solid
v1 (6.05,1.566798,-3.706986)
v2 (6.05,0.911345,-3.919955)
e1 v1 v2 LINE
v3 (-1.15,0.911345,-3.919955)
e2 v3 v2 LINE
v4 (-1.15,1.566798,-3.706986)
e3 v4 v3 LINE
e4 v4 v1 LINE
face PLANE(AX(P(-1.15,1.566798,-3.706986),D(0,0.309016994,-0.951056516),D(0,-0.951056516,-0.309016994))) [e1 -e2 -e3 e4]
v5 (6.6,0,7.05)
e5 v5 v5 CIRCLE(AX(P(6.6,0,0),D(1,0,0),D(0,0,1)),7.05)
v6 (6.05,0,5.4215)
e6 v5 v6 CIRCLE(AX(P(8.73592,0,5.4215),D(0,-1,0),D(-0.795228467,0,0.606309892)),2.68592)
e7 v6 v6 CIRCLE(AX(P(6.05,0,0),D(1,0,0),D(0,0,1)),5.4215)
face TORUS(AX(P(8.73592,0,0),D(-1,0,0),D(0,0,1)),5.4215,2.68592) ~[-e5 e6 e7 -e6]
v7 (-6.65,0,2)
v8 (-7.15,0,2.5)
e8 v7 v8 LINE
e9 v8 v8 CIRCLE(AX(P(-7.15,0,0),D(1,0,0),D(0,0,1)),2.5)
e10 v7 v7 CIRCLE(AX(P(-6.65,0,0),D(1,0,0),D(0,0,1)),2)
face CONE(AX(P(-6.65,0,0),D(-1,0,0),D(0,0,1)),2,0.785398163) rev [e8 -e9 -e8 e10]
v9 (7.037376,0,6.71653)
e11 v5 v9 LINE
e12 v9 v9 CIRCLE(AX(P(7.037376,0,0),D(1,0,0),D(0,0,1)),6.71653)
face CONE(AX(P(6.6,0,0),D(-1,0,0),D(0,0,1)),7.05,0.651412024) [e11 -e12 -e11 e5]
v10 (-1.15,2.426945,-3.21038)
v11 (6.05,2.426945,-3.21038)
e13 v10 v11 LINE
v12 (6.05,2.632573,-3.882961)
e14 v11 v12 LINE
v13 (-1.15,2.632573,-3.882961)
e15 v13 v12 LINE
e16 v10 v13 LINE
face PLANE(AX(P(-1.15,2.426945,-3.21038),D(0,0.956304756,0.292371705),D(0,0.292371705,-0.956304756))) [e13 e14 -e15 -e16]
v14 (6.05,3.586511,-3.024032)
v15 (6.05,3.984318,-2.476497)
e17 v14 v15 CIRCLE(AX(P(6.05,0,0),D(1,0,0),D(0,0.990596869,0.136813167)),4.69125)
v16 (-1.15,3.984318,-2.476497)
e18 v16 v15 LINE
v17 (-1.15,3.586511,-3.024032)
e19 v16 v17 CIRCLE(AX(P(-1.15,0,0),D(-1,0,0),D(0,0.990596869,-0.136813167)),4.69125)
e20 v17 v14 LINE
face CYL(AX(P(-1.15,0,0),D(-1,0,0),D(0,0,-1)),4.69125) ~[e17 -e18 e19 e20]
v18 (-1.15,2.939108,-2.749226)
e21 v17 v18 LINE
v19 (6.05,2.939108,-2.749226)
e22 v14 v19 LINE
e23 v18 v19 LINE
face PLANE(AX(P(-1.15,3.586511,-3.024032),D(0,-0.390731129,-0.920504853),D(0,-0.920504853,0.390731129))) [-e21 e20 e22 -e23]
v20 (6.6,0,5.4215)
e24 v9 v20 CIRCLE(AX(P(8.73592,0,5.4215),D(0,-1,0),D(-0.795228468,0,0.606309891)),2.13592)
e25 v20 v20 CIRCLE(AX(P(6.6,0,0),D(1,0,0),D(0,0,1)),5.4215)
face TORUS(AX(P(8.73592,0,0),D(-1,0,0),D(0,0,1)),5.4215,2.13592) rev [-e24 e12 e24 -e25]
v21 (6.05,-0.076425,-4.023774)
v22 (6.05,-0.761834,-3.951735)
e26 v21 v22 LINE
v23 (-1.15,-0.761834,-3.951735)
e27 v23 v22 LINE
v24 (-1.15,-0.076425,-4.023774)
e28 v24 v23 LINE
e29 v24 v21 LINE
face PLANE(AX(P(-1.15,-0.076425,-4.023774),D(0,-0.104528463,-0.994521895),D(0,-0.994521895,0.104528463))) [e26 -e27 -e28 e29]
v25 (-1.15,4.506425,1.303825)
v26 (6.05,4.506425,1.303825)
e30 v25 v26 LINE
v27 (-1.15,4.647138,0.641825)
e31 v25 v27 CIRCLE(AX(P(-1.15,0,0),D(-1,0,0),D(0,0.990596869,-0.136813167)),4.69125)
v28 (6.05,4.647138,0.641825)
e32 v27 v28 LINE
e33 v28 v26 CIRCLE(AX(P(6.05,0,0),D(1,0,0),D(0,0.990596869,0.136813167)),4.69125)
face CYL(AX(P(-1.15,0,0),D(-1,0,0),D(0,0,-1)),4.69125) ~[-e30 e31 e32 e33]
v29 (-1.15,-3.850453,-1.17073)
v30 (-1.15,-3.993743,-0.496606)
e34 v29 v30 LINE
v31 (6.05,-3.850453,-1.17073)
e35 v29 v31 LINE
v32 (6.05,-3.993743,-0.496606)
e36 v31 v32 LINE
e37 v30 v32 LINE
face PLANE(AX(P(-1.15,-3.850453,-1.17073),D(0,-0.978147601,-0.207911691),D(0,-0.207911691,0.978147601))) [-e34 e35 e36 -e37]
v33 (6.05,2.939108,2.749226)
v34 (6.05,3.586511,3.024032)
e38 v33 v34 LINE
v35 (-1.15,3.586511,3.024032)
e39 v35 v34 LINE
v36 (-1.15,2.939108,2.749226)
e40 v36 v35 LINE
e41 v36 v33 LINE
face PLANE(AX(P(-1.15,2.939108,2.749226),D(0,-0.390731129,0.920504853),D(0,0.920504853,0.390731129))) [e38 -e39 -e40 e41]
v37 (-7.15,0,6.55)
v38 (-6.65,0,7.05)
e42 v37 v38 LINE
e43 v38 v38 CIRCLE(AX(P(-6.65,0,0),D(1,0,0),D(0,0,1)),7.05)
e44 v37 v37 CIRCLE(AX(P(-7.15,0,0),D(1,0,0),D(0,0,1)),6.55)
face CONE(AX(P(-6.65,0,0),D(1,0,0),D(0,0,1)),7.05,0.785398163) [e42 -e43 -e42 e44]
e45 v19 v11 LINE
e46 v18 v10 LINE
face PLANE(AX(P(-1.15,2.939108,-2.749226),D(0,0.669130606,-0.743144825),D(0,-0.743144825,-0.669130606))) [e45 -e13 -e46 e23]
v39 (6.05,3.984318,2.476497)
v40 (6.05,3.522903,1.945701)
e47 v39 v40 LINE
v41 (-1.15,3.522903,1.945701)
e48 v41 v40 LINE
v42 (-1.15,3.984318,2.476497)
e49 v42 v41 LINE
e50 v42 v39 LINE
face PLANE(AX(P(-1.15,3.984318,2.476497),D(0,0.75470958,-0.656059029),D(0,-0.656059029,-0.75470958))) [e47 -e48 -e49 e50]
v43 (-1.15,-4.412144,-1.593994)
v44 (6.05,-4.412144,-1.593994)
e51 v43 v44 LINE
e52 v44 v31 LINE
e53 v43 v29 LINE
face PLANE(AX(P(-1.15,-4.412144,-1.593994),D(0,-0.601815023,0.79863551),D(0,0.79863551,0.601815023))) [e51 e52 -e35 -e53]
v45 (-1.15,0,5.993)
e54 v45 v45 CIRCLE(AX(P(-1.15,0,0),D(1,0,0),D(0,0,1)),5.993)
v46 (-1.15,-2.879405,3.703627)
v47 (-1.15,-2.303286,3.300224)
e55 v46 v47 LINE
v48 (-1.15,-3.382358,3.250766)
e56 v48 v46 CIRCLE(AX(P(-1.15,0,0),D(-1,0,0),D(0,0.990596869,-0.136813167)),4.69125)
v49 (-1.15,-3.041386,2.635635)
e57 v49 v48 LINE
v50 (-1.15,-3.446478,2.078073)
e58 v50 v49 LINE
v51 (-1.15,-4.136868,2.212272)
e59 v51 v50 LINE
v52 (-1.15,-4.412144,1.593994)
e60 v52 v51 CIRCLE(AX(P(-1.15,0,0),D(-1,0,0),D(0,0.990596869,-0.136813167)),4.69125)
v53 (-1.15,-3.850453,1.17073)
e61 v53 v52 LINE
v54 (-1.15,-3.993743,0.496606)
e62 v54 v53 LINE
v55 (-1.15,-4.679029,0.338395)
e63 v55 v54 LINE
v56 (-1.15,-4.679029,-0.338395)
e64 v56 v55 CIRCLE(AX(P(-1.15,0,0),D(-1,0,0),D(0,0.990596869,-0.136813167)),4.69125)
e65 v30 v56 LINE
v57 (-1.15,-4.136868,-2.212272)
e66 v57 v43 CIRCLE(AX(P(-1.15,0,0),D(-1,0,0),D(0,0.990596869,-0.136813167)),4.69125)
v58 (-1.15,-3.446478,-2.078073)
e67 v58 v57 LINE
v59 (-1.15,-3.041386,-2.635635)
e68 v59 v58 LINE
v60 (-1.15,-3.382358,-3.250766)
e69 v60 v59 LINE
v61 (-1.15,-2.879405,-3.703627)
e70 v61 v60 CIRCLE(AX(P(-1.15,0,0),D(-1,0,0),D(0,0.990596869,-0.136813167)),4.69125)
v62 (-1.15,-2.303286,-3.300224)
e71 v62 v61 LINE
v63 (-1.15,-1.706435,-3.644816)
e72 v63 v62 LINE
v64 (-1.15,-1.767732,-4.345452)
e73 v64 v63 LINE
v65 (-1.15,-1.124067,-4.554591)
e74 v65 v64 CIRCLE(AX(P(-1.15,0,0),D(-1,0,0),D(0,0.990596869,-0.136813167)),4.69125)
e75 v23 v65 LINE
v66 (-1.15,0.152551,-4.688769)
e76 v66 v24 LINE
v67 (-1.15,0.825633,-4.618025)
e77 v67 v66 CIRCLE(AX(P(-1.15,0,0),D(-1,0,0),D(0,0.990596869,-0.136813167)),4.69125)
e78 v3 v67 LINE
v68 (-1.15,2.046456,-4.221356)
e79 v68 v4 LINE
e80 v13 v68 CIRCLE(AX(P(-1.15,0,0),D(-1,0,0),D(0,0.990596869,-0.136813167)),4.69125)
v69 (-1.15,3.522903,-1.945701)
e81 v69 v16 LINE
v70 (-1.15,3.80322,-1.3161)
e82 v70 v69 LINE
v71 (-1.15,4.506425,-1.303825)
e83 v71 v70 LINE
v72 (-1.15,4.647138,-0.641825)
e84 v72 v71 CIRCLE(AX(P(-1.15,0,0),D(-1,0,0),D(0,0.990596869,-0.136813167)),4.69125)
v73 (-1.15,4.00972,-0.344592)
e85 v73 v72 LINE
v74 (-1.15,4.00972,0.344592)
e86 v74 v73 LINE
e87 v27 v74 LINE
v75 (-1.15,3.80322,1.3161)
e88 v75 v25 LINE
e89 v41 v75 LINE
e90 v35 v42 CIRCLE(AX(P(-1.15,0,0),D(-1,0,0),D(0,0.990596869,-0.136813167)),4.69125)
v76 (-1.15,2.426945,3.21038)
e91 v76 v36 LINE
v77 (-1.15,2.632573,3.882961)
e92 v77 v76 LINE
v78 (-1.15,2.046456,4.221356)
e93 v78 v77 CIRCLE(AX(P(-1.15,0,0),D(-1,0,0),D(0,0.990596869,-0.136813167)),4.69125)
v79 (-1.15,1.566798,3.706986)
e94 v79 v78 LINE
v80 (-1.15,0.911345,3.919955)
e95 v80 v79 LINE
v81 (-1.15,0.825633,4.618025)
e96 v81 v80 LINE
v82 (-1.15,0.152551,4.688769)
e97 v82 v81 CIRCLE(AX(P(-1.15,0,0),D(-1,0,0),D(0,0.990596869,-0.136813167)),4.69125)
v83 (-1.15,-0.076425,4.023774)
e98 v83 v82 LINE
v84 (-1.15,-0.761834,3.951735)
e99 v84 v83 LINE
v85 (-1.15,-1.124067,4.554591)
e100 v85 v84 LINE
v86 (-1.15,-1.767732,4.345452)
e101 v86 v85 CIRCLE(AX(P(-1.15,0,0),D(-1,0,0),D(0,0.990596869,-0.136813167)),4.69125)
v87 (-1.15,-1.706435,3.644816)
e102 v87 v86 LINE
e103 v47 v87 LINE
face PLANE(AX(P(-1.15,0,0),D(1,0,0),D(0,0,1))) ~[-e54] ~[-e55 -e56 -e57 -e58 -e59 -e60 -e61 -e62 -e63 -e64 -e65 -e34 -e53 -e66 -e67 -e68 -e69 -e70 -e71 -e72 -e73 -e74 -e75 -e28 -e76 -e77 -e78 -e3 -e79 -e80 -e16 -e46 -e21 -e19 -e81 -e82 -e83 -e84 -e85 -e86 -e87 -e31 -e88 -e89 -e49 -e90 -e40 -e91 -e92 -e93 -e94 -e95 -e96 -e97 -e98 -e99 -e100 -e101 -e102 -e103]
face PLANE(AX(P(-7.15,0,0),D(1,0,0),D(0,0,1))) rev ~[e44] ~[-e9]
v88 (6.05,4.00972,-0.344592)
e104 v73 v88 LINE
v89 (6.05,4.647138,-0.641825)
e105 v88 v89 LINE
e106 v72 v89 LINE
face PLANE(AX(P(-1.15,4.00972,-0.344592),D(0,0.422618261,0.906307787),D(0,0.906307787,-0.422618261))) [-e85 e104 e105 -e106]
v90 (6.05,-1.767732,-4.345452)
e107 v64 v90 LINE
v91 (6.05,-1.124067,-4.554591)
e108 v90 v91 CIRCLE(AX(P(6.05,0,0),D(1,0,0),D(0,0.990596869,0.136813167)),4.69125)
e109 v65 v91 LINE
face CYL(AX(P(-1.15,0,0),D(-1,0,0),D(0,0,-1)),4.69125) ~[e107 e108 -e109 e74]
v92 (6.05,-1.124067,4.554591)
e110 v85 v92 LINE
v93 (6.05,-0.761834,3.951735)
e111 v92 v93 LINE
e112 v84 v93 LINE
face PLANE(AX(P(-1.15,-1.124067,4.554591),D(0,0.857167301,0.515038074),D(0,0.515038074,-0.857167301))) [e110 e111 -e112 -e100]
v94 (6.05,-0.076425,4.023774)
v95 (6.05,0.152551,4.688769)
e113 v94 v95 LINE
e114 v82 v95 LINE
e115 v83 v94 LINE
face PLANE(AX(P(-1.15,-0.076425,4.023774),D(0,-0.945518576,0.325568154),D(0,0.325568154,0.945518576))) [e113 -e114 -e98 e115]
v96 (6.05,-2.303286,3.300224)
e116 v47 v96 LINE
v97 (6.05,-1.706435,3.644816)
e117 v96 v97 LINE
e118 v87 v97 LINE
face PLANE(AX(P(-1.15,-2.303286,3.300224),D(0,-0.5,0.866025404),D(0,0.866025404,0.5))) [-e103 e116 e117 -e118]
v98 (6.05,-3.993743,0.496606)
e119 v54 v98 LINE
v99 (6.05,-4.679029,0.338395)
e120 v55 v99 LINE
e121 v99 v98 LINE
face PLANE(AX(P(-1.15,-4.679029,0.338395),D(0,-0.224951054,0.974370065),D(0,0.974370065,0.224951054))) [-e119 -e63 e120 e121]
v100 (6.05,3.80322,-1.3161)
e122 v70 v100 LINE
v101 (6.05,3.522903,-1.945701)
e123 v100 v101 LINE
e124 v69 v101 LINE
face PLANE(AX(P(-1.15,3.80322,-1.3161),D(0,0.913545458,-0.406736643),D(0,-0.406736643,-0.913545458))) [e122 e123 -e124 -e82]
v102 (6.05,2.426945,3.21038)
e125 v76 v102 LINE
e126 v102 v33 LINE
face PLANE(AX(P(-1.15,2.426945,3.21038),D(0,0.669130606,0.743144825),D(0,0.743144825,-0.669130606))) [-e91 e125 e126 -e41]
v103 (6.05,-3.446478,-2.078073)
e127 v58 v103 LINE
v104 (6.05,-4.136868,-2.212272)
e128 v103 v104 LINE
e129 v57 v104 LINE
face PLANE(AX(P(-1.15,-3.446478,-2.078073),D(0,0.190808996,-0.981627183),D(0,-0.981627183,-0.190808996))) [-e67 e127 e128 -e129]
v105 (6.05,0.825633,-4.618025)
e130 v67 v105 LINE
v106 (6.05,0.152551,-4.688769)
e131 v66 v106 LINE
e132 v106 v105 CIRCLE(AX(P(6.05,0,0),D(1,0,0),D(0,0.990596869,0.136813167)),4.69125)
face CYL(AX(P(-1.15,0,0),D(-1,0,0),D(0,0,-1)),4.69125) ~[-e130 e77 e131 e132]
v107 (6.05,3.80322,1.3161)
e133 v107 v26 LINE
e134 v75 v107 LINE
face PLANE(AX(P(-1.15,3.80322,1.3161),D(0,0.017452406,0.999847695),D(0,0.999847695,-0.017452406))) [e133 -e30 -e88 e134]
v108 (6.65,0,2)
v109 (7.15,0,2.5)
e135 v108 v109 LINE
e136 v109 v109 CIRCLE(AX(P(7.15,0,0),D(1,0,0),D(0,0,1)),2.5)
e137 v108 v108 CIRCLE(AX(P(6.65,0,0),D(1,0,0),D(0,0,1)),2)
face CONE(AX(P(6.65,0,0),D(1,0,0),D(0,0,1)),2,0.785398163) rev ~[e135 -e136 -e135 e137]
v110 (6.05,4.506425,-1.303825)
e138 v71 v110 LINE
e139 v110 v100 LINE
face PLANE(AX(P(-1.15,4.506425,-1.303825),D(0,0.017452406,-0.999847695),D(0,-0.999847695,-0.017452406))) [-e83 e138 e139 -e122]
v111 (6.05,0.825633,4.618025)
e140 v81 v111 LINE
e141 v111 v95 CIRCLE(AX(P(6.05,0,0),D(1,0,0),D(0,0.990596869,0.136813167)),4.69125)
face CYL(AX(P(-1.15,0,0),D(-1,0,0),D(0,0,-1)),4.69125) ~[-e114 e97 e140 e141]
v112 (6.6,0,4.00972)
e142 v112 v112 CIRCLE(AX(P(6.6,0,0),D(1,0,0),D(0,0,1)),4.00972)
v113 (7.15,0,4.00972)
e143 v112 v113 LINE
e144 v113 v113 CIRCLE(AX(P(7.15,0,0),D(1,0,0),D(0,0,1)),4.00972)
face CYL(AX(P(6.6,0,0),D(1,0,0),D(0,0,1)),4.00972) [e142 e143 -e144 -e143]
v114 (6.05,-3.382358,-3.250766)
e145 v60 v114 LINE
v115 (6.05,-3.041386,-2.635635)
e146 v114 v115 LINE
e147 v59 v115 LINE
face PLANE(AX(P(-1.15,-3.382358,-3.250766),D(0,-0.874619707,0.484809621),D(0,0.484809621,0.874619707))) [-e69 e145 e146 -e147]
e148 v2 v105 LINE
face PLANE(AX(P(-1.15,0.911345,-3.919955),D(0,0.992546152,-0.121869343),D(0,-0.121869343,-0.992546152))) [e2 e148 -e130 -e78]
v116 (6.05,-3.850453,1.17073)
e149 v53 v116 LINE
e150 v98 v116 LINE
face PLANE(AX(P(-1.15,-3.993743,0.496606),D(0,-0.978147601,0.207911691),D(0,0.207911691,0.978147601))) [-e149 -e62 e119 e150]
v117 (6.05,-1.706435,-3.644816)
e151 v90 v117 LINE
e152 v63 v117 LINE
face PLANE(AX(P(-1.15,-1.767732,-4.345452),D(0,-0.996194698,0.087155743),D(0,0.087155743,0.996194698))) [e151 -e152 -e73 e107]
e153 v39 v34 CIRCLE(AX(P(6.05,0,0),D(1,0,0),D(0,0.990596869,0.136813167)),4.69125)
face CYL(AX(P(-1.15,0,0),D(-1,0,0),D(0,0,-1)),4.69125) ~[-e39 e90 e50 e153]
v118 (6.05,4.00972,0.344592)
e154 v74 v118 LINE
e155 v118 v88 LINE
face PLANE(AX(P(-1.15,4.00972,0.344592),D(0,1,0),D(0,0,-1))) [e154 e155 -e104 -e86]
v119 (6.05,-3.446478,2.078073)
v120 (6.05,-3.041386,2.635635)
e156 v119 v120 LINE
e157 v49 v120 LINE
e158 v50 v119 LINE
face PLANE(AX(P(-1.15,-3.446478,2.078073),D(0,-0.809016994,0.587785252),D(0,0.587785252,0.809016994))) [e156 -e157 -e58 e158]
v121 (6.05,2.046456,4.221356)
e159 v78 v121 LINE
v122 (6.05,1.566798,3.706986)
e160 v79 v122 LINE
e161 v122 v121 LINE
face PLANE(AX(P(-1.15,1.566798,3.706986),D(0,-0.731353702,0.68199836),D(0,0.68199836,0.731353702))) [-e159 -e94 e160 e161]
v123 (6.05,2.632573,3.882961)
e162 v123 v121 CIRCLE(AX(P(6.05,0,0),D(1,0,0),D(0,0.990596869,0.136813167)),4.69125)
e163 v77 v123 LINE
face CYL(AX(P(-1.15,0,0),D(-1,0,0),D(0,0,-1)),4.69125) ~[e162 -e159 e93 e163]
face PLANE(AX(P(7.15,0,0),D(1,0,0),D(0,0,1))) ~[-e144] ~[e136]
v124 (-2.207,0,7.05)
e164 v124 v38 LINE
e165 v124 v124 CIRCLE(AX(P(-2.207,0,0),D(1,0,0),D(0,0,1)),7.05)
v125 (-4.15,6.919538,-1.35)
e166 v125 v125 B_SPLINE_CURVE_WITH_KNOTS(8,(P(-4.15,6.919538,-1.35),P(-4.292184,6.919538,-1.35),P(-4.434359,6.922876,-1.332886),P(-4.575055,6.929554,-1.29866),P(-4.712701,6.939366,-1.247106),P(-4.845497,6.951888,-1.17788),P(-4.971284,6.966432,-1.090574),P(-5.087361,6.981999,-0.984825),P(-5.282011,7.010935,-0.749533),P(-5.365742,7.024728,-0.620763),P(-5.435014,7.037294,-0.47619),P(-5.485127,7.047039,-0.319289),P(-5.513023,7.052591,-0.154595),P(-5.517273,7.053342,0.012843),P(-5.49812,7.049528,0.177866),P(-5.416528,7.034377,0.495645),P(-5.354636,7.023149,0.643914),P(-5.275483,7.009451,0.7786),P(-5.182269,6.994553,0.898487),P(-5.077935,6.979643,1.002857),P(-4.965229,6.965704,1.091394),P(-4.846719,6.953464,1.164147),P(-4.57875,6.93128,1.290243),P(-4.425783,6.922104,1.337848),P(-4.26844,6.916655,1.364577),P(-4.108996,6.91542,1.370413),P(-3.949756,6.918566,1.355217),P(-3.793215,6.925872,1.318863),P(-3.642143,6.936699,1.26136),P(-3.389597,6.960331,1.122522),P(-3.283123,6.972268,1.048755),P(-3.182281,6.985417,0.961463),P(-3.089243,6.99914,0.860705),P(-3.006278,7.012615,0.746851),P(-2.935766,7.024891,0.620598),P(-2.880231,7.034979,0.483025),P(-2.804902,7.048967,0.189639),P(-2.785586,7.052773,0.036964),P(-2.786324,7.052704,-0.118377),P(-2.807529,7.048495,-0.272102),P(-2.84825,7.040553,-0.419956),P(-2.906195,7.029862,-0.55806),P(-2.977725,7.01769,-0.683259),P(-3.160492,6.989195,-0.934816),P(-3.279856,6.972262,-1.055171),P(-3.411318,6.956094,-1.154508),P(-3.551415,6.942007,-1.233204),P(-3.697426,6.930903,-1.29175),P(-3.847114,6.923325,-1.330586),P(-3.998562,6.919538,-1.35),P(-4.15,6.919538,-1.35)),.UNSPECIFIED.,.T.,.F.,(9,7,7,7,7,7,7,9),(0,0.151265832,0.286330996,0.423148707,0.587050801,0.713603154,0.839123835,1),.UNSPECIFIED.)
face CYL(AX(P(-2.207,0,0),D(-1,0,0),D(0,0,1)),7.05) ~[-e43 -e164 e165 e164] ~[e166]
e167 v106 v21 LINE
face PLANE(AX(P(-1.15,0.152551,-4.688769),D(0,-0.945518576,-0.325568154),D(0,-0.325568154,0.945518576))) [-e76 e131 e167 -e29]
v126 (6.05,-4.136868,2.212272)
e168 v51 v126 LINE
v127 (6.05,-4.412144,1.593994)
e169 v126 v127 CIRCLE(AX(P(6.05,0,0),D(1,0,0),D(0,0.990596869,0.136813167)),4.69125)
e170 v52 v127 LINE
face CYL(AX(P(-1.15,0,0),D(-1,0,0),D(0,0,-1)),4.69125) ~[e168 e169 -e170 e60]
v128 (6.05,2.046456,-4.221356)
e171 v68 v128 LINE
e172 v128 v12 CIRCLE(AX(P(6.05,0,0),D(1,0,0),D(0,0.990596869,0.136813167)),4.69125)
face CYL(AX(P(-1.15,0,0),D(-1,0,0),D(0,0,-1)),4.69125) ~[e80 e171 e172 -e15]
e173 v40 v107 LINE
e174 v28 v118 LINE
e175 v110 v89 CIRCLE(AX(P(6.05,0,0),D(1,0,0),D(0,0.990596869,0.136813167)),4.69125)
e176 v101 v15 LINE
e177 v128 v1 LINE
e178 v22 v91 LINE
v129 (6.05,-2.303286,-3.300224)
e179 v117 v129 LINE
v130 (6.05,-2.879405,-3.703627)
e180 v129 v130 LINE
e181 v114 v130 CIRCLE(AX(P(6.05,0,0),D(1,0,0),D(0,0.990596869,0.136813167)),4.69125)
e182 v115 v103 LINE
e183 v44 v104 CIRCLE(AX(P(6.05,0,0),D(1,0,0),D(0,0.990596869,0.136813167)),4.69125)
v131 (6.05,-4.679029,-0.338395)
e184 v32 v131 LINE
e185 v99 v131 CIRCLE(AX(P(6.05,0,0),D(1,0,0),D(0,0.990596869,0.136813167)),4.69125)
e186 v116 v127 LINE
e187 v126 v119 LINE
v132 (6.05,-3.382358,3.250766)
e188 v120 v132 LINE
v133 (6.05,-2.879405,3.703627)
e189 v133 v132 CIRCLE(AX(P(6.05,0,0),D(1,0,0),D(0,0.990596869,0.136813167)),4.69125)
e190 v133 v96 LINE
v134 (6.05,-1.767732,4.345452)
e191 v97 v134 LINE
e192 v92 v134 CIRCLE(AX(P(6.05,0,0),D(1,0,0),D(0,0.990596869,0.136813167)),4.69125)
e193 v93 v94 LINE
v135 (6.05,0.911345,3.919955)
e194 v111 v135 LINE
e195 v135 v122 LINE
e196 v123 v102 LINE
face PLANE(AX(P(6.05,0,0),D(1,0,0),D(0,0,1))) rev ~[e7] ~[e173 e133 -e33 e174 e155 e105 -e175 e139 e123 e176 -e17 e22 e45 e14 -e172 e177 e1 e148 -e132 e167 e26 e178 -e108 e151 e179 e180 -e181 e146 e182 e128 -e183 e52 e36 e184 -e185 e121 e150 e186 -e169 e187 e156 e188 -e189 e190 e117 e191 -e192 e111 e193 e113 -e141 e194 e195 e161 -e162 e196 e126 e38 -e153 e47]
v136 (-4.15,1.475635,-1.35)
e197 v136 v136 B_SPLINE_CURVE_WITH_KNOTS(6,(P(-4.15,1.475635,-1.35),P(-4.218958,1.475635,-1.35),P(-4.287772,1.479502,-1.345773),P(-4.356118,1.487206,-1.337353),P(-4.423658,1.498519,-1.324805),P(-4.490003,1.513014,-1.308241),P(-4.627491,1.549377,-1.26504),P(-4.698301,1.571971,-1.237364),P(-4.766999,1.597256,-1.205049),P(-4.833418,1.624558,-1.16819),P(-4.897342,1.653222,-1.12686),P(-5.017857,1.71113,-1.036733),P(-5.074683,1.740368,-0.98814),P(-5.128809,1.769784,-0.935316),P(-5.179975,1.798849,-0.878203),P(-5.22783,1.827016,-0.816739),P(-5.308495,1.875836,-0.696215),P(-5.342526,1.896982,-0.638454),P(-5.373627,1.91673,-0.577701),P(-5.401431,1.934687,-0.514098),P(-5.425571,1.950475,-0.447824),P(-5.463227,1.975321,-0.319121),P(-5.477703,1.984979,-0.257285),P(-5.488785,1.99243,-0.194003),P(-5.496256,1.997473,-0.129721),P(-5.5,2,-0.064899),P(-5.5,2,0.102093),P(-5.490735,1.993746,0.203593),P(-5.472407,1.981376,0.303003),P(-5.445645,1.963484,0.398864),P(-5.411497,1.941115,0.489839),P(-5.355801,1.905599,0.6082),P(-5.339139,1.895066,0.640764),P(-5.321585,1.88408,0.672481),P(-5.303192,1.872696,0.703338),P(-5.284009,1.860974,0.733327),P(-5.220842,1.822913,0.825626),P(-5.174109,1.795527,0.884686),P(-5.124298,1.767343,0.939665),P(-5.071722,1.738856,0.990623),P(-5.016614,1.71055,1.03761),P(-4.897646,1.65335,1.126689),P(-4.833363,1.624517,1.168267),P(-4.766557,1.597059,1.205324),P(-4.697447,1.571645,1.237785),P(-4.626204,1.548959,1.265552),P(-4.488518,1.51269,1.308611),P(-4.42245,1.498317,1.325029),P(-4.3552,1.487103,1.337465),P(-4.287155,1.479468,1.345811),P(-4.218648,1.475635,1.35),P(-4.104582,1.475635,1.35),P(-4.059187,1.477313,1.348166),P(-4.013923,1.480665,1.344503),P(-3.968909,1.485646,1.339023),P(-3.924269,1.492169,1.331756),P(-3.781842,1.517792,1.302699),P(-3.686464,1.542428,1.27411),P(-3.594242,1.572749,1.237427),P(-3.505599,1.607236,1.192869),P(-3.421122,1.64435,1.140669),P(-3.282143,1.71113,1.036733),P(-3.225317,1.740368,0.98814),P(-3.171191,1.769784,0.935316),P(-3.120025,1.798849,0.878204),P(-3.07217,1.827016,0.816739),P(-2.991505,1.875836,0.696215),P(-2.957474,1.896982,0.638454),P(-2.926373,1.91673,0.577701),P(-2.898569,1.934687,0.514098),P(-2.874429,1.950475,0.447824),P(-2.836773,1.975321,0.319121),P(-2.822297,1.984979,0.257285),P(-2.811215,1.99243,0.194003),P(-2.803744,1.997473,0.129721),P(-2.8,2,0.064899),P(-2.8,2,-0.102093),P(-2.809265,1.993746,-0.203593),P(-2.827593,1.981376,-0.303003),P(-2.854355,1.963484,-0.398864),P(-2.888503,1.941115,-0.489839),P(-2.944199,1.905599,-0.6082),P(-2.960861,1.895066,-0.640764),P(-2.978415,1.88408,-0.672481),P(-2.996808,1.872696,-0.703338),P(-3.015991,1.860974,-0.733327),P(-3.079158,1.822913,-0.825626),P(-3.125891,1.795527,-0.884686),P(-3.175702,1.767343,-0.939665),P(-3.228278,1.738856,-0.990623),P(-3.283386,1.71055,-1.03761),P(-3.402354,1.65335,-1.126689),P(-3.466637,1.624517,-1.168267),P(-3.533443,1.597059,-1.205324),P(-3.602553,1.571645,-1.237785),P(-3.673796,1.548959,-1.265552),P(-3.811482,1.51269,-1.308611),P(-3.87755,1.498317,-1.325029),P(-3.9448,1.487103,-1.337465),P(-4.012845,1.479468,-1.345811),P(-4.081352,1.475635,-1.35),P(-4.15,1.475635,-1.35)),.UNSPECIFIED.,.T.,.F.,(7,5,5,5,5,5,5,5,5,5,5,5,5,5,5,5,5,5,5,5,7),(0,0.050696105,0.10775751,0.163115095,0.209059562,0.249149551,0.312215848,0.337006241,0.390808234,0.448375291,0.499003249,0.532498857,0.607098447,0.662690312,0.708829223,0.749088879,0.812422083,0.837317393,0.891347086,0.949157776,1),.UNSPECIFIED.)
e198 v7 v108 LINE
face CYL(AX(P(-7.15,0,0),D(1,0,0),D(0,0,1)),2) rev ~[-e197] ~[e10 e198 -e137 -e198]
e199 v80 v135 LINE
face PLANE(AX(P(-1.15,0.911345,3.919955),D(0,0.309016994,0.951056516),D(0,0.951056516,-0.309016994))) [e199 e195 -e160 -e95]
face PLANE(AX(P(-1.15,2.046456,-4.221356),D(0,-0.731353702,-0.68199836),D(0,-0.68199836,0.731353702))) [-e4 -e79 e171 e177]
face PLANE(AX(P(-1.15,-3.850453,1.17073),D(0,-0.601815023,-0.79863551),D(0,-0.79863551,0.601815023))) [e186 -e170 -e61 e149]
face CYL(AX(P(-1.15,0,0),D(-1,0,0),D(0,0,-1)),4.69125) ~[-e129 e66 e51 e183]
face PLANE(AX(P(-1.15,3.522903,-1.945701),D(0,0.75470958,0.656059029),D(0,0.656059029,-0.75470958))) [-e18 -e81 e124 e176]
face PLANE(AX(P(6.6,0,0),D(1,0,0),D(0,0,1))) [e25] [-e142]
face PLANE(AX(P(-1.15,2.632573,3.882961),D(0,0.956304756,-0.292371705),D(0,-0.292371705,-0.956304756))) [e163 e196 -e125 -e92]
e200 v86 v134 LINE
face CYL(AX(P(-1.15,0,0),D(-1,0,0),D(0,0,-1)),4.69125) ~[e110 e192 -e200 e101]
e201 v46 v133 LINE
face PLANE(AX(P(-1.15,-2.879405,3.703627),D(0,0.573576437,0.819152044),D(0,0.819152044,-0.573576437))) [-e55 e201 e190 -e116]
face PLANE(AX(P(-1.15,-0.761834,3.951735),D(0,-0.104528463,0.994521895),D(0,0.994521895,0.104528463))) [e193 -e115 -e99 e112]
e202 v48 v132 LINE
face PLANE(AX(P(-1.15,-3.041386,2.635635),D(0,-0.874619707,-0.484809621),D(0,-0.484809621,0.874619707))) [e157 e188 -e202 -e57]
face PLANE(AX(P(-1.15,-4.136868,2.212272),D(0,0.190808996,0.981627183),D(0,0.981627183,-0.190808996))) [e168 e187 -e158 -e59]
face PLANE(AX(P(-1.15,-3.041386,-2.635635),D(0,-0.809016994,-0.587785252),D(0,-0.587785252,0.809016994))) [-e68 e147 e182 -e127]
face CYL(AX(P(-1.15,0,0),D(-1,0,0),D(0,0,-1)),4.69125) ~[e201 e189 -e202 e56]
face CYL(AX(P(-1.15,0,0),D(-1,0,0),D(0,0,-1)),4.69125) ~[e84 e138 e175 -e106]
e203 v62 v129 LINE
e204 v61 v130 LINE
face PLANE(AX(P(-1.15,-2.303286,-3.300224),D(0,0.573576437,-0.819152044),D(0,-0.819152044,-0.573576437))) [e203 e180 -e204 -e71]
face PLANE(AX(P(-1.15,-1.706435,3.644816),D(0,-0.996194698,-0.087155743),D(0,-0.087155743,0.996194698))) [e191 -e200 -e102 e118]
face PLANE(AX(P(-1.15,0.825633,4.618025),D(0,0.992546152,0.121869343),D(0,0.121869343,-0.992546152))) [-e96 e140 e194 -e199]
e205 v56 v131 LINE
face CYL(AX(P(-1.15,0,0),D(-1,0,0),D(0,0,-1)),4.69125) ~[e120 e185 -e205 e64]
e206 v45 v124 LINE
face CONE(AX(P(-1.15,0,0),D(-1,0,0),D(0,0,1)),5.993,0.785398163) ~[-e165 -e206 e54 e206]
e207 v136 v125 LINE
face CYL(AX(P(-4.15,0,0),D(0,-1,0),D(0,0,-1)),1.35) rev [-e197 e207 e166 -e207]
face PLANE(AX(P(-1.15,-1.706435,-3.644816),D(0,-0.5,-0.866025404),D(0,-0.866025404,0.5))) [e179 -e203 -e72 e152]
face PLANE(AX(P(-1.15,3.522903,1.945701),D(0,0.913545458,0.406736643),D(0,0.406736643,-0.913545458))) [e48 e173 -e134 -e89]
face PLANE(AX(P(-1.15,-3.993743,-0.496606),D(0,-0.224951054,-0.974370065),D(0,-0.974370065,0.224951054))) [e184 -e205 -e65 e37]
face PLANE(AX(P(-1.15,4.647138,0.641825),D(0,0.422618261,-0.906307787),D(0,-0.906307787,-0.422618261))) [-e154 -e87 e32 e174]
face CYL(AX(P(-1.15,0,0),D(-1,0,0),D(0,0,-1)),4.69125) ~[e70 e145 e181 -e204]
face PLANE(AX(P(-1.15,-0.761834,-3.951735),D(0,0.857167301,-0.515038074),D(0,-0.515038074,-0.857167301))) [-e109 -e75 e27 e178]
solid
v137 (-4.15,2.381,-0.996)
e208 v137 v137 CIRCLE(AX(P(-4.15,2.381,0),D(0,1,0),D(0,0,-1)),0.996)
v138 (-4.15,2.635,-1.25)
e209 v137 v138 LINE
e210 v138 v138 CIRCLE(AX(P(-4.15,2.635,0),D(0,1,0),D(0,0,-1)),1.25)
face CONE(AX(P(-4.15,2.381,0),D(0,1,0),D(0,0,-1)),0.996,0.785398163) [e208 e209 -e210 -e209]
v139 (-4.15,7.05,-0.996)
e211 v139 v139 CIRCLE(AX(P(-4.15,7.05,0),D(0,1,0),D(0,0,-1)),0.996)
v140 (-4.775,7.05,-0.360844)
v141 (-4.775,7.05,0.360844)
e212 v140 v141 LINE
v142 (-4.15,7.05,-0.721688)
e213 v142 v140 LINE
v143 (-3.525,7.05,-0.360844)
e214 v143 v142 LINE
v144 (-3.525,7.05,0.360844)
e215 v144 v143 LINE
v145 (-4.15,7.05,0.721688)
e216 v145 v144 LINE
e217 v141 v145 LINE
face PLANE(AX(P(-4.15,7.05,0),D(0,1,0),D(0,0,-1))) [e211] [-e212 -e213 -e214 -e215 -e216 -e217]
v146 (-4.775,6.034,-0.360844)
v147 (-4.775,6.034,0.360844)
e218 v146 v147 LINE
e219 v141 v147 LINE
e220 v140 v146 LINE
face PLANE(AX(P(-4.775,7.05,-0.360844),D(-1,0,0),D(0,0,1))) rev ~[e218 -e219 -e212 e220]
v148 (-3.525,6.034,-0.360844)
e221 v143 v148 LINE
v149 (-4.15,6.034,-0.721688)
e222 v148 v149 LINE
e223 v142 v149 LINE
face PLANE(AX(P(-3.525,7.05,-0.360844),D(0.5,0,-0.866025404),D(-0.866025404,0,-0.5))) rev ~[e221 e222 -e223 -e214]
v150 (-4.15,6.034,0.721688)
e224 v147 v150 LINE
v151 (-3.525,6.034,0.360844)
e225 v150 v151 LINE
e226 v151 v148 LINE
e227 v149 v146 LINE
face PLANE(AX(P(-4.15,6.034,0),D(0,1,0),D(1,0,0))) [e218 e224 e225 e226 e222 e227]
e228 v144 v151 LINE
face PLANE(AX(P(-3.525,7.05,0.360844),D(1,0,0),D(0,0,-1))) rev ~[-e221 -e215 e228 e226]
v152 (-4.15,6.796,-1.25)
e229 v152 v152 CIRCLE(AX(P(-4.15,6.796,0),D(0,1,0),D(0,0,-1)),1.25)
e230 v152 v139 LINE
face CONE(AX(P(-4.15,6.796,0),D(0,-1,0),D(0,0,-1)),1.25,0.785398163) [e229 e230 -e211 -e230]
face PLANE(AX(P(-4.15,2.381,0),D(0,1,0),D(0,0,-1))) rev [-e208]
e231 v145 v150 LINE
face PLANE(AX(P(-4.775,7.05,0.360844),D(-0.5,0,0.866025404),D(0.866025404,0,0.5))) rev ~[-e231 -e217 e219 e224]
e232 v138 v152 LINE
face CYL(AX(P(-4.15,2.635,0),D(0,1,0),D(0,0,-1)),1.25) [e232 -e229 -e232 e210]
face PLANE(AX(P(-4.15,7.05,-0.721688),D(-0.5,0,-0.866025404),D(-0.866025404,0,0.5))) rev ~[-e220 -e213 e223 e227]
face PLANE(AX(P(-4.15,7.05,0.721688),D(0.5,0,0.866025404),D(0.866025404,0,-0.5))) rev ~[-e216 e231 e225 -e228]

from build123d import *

# Parameters (mm, degrees)
SKETCH4_R          = 4.85
SKETCH4_R_2        = 4.69125
CUT_EXTRUDE2_DEPTH = 7.2
CUT_EXTRUDE1_DEPTH = 7.2
CIRPATTERN1_COUNT  = 15
SKETCH6_R          = 1.35
CUT_EXTRUDE3_DEPTH = 13.268964912
CUT_EXTRUDE4_DEPTH = 1.016
CHAMFER1_SIZE      = 0.5


with BuildPart() as part:
    # Sketch1 → Revolve1 (revolve)
    with BuildSketch(Plane.XY, mode=Mode.PRIVATE) as revolve1_sk:
        with BuildLine():
            Line((-7.15, 2), (7.15, 2))
            Line((7.15, 2), (7.15, 7.05))
            Line((7.15, 7.05), (6.6, 7.05))
            ThreePointArc((6.6, 7.05), (6.191212109, 6.280934734), (6.05, 5.4215))
            Line((6.05, 5.4215), (6.05, 4.85))
            Line((6.05, 4.85), (-1.15, 4.85))
            Line((-1.15, 4.85), (-1.15, 5.993))
            Line((-1.15, 5.993), (-2.207, 7.05))
            Line((-2.207, 7.05), (-7.15, 7.05))
            Line((-7.15, 7.05), (-7.15, 2))
        make_face()
    revolve(revolve1_sk.sketch.rotate(Axis((-7.15, 0, 0), (1, 0, 0)), 90), axis=Axis((-7.15, 0, 0), (1, 0, 0)))

    # Sketch4 → Cut-Extrude2 (cut)
    with BuildSketch(Plane(origin=(-1.15, 0, 0), x_dir=(0, 0, -1), z_dir=(1, 0, 0))):
        Circle(SKETCH4_R)
        Circle(SKETCH4_R_2, mode=Mode.SUBTRACT)
    extrude(amount=CUT_EXTRUDE2_DEPTH, mode=Mode.SUBTRACT)

    # Sketch3 → Cut-Extrude1 (cut)
    with BuildSketch(Plane(origin=(-1.15, 0, 0), x_dir=(0, 0, -1), z_dir=(1, 0, 0))):
        with BuildLine():
            Line((-0.641824768, 4.647137563), (-0.344592193, 4.009720248))
            Line((-0.344592193, 4.009720248), (0.344592193, 4.009720248))
            Line((0.344592193, 4.009720248), (0.641824768, 4.647137563))
            ThreePointArc((0.641824768, 4.647137563), (0, 4.69125), (-0.641824768, 4.647137563))
        make_face()
    cut_extrude1 = extrude(amount=CUT_EXTRUDE1_DEPTH, mode=Mode.SUBTRACT)

    # CirPattern1: Cut-Extrude1 ×15 about axis
    cirpattern1_axis = Axis((0, 0, 0), (1, 0, 0))
    for i in range(1, CIRPATTERN1_COUNT):
        add(cut_extrude1.rotate(cirpattern1_axis, i * 360 / CIRPATTERN1_COUNT), mode=Mode.SUBTRACT)

    # Sketch6 → Cut-Extrude3 (cut, through all)
    with BuildSketch(Plane(origin=(0, 0, 0), x_dir=(1, 0, 0), z_dir=(0, 1, 0))):
        with Locations(Location((-4.15, 0, 0), (0, 0, 90))):
            Circle(SKETCH6_R)
    extrude(amount=CUT_EXTRUDE3_DEPTH, mode=Mode.SUBTRACT)

    # Chamfer1
    chamfer1_edges = [part.edges().sort_by_distance(p)[0] for p in [
        (-7.15, 0, -7.05),
        (-7.15, 0, -2),
        (7.15, 0, -2),
    ]]
    chamfer(chamfer1_edges, length=CHAMFER1_SIZE)

    # Sketch9 → Cut-Revolve1 (revolve, cut)
    with BuildSketch(Plane.XY, mode=Mode.PRIVATE) as cut_revolve1_sk:
        with BuildLine():
            Line((7.15, 4.009720248), (7.15, 7.05))
            Line((7.15, 7.05), (6.802186426, 7.315185187))
            Line((6.802186426, 7.315185187), (6.6, 7.05))
            Line((6.6, 7.05), (7.037375657, 6.71652956))
            ThreePointArc((7.037375657, 6.71652956), (6.712295889, 6.104946967), (6.6, 5.4215))
            Line((6.6, 5.4215), (6.6, 4.009720248))
            Line((6.6, 4.009720248), (7.15, 4.009720248))
        make_face()
    revolve(cut_revolve1_sk.sketch.rotate(Axis((-7.15, 0, 0), (1, 0, 0)), 90), axis=Axis((-7.15, 0, 0), (1, 0, 0)), mode=Mode.SUBTRACT)


with BuildPart() as body_2:
    # Sketch7 → Revolve2 (revolve)
    with BuildSketch(Plane.XY, mode=Mode.PRIVATE) as revolve2_sk:
        Polygon((-5.146, 7.05), (-4.15, 7.05), (-4.15, 2.381), (-5.146, 2.381), (-5.4, 2.635), (-5.4, 6.796), align=None)
    revolve(revolve2_sk.sketch.rotate(Axis((-4.15, 2.381, 0), (0, 1, 0)), 270), axis=Axis((-4.15, 2.381, 0), (0, 1, 0)))

    # Sketch8 → Cut-Extrude4 (cut)
    with BuildSketch(Plane(origin=(0, 7.05, 0), x_dir=(1, 0, 0), z_dir=(0, 1, 0))):
        Polygon((-4.15, 0.721687836), (-4.775, 0.360843918), (-4.775, -0.360843918), (-4.15, -0.721687836), (-3.525, -0.360843918), (-3.525, 0.360843918), align=None)
    extrude(amount=-CUT_EXTRUDE4_DEPTH, mode=Mode.SUBTRACT)


solid = Compound([part.part, body_2.part])
